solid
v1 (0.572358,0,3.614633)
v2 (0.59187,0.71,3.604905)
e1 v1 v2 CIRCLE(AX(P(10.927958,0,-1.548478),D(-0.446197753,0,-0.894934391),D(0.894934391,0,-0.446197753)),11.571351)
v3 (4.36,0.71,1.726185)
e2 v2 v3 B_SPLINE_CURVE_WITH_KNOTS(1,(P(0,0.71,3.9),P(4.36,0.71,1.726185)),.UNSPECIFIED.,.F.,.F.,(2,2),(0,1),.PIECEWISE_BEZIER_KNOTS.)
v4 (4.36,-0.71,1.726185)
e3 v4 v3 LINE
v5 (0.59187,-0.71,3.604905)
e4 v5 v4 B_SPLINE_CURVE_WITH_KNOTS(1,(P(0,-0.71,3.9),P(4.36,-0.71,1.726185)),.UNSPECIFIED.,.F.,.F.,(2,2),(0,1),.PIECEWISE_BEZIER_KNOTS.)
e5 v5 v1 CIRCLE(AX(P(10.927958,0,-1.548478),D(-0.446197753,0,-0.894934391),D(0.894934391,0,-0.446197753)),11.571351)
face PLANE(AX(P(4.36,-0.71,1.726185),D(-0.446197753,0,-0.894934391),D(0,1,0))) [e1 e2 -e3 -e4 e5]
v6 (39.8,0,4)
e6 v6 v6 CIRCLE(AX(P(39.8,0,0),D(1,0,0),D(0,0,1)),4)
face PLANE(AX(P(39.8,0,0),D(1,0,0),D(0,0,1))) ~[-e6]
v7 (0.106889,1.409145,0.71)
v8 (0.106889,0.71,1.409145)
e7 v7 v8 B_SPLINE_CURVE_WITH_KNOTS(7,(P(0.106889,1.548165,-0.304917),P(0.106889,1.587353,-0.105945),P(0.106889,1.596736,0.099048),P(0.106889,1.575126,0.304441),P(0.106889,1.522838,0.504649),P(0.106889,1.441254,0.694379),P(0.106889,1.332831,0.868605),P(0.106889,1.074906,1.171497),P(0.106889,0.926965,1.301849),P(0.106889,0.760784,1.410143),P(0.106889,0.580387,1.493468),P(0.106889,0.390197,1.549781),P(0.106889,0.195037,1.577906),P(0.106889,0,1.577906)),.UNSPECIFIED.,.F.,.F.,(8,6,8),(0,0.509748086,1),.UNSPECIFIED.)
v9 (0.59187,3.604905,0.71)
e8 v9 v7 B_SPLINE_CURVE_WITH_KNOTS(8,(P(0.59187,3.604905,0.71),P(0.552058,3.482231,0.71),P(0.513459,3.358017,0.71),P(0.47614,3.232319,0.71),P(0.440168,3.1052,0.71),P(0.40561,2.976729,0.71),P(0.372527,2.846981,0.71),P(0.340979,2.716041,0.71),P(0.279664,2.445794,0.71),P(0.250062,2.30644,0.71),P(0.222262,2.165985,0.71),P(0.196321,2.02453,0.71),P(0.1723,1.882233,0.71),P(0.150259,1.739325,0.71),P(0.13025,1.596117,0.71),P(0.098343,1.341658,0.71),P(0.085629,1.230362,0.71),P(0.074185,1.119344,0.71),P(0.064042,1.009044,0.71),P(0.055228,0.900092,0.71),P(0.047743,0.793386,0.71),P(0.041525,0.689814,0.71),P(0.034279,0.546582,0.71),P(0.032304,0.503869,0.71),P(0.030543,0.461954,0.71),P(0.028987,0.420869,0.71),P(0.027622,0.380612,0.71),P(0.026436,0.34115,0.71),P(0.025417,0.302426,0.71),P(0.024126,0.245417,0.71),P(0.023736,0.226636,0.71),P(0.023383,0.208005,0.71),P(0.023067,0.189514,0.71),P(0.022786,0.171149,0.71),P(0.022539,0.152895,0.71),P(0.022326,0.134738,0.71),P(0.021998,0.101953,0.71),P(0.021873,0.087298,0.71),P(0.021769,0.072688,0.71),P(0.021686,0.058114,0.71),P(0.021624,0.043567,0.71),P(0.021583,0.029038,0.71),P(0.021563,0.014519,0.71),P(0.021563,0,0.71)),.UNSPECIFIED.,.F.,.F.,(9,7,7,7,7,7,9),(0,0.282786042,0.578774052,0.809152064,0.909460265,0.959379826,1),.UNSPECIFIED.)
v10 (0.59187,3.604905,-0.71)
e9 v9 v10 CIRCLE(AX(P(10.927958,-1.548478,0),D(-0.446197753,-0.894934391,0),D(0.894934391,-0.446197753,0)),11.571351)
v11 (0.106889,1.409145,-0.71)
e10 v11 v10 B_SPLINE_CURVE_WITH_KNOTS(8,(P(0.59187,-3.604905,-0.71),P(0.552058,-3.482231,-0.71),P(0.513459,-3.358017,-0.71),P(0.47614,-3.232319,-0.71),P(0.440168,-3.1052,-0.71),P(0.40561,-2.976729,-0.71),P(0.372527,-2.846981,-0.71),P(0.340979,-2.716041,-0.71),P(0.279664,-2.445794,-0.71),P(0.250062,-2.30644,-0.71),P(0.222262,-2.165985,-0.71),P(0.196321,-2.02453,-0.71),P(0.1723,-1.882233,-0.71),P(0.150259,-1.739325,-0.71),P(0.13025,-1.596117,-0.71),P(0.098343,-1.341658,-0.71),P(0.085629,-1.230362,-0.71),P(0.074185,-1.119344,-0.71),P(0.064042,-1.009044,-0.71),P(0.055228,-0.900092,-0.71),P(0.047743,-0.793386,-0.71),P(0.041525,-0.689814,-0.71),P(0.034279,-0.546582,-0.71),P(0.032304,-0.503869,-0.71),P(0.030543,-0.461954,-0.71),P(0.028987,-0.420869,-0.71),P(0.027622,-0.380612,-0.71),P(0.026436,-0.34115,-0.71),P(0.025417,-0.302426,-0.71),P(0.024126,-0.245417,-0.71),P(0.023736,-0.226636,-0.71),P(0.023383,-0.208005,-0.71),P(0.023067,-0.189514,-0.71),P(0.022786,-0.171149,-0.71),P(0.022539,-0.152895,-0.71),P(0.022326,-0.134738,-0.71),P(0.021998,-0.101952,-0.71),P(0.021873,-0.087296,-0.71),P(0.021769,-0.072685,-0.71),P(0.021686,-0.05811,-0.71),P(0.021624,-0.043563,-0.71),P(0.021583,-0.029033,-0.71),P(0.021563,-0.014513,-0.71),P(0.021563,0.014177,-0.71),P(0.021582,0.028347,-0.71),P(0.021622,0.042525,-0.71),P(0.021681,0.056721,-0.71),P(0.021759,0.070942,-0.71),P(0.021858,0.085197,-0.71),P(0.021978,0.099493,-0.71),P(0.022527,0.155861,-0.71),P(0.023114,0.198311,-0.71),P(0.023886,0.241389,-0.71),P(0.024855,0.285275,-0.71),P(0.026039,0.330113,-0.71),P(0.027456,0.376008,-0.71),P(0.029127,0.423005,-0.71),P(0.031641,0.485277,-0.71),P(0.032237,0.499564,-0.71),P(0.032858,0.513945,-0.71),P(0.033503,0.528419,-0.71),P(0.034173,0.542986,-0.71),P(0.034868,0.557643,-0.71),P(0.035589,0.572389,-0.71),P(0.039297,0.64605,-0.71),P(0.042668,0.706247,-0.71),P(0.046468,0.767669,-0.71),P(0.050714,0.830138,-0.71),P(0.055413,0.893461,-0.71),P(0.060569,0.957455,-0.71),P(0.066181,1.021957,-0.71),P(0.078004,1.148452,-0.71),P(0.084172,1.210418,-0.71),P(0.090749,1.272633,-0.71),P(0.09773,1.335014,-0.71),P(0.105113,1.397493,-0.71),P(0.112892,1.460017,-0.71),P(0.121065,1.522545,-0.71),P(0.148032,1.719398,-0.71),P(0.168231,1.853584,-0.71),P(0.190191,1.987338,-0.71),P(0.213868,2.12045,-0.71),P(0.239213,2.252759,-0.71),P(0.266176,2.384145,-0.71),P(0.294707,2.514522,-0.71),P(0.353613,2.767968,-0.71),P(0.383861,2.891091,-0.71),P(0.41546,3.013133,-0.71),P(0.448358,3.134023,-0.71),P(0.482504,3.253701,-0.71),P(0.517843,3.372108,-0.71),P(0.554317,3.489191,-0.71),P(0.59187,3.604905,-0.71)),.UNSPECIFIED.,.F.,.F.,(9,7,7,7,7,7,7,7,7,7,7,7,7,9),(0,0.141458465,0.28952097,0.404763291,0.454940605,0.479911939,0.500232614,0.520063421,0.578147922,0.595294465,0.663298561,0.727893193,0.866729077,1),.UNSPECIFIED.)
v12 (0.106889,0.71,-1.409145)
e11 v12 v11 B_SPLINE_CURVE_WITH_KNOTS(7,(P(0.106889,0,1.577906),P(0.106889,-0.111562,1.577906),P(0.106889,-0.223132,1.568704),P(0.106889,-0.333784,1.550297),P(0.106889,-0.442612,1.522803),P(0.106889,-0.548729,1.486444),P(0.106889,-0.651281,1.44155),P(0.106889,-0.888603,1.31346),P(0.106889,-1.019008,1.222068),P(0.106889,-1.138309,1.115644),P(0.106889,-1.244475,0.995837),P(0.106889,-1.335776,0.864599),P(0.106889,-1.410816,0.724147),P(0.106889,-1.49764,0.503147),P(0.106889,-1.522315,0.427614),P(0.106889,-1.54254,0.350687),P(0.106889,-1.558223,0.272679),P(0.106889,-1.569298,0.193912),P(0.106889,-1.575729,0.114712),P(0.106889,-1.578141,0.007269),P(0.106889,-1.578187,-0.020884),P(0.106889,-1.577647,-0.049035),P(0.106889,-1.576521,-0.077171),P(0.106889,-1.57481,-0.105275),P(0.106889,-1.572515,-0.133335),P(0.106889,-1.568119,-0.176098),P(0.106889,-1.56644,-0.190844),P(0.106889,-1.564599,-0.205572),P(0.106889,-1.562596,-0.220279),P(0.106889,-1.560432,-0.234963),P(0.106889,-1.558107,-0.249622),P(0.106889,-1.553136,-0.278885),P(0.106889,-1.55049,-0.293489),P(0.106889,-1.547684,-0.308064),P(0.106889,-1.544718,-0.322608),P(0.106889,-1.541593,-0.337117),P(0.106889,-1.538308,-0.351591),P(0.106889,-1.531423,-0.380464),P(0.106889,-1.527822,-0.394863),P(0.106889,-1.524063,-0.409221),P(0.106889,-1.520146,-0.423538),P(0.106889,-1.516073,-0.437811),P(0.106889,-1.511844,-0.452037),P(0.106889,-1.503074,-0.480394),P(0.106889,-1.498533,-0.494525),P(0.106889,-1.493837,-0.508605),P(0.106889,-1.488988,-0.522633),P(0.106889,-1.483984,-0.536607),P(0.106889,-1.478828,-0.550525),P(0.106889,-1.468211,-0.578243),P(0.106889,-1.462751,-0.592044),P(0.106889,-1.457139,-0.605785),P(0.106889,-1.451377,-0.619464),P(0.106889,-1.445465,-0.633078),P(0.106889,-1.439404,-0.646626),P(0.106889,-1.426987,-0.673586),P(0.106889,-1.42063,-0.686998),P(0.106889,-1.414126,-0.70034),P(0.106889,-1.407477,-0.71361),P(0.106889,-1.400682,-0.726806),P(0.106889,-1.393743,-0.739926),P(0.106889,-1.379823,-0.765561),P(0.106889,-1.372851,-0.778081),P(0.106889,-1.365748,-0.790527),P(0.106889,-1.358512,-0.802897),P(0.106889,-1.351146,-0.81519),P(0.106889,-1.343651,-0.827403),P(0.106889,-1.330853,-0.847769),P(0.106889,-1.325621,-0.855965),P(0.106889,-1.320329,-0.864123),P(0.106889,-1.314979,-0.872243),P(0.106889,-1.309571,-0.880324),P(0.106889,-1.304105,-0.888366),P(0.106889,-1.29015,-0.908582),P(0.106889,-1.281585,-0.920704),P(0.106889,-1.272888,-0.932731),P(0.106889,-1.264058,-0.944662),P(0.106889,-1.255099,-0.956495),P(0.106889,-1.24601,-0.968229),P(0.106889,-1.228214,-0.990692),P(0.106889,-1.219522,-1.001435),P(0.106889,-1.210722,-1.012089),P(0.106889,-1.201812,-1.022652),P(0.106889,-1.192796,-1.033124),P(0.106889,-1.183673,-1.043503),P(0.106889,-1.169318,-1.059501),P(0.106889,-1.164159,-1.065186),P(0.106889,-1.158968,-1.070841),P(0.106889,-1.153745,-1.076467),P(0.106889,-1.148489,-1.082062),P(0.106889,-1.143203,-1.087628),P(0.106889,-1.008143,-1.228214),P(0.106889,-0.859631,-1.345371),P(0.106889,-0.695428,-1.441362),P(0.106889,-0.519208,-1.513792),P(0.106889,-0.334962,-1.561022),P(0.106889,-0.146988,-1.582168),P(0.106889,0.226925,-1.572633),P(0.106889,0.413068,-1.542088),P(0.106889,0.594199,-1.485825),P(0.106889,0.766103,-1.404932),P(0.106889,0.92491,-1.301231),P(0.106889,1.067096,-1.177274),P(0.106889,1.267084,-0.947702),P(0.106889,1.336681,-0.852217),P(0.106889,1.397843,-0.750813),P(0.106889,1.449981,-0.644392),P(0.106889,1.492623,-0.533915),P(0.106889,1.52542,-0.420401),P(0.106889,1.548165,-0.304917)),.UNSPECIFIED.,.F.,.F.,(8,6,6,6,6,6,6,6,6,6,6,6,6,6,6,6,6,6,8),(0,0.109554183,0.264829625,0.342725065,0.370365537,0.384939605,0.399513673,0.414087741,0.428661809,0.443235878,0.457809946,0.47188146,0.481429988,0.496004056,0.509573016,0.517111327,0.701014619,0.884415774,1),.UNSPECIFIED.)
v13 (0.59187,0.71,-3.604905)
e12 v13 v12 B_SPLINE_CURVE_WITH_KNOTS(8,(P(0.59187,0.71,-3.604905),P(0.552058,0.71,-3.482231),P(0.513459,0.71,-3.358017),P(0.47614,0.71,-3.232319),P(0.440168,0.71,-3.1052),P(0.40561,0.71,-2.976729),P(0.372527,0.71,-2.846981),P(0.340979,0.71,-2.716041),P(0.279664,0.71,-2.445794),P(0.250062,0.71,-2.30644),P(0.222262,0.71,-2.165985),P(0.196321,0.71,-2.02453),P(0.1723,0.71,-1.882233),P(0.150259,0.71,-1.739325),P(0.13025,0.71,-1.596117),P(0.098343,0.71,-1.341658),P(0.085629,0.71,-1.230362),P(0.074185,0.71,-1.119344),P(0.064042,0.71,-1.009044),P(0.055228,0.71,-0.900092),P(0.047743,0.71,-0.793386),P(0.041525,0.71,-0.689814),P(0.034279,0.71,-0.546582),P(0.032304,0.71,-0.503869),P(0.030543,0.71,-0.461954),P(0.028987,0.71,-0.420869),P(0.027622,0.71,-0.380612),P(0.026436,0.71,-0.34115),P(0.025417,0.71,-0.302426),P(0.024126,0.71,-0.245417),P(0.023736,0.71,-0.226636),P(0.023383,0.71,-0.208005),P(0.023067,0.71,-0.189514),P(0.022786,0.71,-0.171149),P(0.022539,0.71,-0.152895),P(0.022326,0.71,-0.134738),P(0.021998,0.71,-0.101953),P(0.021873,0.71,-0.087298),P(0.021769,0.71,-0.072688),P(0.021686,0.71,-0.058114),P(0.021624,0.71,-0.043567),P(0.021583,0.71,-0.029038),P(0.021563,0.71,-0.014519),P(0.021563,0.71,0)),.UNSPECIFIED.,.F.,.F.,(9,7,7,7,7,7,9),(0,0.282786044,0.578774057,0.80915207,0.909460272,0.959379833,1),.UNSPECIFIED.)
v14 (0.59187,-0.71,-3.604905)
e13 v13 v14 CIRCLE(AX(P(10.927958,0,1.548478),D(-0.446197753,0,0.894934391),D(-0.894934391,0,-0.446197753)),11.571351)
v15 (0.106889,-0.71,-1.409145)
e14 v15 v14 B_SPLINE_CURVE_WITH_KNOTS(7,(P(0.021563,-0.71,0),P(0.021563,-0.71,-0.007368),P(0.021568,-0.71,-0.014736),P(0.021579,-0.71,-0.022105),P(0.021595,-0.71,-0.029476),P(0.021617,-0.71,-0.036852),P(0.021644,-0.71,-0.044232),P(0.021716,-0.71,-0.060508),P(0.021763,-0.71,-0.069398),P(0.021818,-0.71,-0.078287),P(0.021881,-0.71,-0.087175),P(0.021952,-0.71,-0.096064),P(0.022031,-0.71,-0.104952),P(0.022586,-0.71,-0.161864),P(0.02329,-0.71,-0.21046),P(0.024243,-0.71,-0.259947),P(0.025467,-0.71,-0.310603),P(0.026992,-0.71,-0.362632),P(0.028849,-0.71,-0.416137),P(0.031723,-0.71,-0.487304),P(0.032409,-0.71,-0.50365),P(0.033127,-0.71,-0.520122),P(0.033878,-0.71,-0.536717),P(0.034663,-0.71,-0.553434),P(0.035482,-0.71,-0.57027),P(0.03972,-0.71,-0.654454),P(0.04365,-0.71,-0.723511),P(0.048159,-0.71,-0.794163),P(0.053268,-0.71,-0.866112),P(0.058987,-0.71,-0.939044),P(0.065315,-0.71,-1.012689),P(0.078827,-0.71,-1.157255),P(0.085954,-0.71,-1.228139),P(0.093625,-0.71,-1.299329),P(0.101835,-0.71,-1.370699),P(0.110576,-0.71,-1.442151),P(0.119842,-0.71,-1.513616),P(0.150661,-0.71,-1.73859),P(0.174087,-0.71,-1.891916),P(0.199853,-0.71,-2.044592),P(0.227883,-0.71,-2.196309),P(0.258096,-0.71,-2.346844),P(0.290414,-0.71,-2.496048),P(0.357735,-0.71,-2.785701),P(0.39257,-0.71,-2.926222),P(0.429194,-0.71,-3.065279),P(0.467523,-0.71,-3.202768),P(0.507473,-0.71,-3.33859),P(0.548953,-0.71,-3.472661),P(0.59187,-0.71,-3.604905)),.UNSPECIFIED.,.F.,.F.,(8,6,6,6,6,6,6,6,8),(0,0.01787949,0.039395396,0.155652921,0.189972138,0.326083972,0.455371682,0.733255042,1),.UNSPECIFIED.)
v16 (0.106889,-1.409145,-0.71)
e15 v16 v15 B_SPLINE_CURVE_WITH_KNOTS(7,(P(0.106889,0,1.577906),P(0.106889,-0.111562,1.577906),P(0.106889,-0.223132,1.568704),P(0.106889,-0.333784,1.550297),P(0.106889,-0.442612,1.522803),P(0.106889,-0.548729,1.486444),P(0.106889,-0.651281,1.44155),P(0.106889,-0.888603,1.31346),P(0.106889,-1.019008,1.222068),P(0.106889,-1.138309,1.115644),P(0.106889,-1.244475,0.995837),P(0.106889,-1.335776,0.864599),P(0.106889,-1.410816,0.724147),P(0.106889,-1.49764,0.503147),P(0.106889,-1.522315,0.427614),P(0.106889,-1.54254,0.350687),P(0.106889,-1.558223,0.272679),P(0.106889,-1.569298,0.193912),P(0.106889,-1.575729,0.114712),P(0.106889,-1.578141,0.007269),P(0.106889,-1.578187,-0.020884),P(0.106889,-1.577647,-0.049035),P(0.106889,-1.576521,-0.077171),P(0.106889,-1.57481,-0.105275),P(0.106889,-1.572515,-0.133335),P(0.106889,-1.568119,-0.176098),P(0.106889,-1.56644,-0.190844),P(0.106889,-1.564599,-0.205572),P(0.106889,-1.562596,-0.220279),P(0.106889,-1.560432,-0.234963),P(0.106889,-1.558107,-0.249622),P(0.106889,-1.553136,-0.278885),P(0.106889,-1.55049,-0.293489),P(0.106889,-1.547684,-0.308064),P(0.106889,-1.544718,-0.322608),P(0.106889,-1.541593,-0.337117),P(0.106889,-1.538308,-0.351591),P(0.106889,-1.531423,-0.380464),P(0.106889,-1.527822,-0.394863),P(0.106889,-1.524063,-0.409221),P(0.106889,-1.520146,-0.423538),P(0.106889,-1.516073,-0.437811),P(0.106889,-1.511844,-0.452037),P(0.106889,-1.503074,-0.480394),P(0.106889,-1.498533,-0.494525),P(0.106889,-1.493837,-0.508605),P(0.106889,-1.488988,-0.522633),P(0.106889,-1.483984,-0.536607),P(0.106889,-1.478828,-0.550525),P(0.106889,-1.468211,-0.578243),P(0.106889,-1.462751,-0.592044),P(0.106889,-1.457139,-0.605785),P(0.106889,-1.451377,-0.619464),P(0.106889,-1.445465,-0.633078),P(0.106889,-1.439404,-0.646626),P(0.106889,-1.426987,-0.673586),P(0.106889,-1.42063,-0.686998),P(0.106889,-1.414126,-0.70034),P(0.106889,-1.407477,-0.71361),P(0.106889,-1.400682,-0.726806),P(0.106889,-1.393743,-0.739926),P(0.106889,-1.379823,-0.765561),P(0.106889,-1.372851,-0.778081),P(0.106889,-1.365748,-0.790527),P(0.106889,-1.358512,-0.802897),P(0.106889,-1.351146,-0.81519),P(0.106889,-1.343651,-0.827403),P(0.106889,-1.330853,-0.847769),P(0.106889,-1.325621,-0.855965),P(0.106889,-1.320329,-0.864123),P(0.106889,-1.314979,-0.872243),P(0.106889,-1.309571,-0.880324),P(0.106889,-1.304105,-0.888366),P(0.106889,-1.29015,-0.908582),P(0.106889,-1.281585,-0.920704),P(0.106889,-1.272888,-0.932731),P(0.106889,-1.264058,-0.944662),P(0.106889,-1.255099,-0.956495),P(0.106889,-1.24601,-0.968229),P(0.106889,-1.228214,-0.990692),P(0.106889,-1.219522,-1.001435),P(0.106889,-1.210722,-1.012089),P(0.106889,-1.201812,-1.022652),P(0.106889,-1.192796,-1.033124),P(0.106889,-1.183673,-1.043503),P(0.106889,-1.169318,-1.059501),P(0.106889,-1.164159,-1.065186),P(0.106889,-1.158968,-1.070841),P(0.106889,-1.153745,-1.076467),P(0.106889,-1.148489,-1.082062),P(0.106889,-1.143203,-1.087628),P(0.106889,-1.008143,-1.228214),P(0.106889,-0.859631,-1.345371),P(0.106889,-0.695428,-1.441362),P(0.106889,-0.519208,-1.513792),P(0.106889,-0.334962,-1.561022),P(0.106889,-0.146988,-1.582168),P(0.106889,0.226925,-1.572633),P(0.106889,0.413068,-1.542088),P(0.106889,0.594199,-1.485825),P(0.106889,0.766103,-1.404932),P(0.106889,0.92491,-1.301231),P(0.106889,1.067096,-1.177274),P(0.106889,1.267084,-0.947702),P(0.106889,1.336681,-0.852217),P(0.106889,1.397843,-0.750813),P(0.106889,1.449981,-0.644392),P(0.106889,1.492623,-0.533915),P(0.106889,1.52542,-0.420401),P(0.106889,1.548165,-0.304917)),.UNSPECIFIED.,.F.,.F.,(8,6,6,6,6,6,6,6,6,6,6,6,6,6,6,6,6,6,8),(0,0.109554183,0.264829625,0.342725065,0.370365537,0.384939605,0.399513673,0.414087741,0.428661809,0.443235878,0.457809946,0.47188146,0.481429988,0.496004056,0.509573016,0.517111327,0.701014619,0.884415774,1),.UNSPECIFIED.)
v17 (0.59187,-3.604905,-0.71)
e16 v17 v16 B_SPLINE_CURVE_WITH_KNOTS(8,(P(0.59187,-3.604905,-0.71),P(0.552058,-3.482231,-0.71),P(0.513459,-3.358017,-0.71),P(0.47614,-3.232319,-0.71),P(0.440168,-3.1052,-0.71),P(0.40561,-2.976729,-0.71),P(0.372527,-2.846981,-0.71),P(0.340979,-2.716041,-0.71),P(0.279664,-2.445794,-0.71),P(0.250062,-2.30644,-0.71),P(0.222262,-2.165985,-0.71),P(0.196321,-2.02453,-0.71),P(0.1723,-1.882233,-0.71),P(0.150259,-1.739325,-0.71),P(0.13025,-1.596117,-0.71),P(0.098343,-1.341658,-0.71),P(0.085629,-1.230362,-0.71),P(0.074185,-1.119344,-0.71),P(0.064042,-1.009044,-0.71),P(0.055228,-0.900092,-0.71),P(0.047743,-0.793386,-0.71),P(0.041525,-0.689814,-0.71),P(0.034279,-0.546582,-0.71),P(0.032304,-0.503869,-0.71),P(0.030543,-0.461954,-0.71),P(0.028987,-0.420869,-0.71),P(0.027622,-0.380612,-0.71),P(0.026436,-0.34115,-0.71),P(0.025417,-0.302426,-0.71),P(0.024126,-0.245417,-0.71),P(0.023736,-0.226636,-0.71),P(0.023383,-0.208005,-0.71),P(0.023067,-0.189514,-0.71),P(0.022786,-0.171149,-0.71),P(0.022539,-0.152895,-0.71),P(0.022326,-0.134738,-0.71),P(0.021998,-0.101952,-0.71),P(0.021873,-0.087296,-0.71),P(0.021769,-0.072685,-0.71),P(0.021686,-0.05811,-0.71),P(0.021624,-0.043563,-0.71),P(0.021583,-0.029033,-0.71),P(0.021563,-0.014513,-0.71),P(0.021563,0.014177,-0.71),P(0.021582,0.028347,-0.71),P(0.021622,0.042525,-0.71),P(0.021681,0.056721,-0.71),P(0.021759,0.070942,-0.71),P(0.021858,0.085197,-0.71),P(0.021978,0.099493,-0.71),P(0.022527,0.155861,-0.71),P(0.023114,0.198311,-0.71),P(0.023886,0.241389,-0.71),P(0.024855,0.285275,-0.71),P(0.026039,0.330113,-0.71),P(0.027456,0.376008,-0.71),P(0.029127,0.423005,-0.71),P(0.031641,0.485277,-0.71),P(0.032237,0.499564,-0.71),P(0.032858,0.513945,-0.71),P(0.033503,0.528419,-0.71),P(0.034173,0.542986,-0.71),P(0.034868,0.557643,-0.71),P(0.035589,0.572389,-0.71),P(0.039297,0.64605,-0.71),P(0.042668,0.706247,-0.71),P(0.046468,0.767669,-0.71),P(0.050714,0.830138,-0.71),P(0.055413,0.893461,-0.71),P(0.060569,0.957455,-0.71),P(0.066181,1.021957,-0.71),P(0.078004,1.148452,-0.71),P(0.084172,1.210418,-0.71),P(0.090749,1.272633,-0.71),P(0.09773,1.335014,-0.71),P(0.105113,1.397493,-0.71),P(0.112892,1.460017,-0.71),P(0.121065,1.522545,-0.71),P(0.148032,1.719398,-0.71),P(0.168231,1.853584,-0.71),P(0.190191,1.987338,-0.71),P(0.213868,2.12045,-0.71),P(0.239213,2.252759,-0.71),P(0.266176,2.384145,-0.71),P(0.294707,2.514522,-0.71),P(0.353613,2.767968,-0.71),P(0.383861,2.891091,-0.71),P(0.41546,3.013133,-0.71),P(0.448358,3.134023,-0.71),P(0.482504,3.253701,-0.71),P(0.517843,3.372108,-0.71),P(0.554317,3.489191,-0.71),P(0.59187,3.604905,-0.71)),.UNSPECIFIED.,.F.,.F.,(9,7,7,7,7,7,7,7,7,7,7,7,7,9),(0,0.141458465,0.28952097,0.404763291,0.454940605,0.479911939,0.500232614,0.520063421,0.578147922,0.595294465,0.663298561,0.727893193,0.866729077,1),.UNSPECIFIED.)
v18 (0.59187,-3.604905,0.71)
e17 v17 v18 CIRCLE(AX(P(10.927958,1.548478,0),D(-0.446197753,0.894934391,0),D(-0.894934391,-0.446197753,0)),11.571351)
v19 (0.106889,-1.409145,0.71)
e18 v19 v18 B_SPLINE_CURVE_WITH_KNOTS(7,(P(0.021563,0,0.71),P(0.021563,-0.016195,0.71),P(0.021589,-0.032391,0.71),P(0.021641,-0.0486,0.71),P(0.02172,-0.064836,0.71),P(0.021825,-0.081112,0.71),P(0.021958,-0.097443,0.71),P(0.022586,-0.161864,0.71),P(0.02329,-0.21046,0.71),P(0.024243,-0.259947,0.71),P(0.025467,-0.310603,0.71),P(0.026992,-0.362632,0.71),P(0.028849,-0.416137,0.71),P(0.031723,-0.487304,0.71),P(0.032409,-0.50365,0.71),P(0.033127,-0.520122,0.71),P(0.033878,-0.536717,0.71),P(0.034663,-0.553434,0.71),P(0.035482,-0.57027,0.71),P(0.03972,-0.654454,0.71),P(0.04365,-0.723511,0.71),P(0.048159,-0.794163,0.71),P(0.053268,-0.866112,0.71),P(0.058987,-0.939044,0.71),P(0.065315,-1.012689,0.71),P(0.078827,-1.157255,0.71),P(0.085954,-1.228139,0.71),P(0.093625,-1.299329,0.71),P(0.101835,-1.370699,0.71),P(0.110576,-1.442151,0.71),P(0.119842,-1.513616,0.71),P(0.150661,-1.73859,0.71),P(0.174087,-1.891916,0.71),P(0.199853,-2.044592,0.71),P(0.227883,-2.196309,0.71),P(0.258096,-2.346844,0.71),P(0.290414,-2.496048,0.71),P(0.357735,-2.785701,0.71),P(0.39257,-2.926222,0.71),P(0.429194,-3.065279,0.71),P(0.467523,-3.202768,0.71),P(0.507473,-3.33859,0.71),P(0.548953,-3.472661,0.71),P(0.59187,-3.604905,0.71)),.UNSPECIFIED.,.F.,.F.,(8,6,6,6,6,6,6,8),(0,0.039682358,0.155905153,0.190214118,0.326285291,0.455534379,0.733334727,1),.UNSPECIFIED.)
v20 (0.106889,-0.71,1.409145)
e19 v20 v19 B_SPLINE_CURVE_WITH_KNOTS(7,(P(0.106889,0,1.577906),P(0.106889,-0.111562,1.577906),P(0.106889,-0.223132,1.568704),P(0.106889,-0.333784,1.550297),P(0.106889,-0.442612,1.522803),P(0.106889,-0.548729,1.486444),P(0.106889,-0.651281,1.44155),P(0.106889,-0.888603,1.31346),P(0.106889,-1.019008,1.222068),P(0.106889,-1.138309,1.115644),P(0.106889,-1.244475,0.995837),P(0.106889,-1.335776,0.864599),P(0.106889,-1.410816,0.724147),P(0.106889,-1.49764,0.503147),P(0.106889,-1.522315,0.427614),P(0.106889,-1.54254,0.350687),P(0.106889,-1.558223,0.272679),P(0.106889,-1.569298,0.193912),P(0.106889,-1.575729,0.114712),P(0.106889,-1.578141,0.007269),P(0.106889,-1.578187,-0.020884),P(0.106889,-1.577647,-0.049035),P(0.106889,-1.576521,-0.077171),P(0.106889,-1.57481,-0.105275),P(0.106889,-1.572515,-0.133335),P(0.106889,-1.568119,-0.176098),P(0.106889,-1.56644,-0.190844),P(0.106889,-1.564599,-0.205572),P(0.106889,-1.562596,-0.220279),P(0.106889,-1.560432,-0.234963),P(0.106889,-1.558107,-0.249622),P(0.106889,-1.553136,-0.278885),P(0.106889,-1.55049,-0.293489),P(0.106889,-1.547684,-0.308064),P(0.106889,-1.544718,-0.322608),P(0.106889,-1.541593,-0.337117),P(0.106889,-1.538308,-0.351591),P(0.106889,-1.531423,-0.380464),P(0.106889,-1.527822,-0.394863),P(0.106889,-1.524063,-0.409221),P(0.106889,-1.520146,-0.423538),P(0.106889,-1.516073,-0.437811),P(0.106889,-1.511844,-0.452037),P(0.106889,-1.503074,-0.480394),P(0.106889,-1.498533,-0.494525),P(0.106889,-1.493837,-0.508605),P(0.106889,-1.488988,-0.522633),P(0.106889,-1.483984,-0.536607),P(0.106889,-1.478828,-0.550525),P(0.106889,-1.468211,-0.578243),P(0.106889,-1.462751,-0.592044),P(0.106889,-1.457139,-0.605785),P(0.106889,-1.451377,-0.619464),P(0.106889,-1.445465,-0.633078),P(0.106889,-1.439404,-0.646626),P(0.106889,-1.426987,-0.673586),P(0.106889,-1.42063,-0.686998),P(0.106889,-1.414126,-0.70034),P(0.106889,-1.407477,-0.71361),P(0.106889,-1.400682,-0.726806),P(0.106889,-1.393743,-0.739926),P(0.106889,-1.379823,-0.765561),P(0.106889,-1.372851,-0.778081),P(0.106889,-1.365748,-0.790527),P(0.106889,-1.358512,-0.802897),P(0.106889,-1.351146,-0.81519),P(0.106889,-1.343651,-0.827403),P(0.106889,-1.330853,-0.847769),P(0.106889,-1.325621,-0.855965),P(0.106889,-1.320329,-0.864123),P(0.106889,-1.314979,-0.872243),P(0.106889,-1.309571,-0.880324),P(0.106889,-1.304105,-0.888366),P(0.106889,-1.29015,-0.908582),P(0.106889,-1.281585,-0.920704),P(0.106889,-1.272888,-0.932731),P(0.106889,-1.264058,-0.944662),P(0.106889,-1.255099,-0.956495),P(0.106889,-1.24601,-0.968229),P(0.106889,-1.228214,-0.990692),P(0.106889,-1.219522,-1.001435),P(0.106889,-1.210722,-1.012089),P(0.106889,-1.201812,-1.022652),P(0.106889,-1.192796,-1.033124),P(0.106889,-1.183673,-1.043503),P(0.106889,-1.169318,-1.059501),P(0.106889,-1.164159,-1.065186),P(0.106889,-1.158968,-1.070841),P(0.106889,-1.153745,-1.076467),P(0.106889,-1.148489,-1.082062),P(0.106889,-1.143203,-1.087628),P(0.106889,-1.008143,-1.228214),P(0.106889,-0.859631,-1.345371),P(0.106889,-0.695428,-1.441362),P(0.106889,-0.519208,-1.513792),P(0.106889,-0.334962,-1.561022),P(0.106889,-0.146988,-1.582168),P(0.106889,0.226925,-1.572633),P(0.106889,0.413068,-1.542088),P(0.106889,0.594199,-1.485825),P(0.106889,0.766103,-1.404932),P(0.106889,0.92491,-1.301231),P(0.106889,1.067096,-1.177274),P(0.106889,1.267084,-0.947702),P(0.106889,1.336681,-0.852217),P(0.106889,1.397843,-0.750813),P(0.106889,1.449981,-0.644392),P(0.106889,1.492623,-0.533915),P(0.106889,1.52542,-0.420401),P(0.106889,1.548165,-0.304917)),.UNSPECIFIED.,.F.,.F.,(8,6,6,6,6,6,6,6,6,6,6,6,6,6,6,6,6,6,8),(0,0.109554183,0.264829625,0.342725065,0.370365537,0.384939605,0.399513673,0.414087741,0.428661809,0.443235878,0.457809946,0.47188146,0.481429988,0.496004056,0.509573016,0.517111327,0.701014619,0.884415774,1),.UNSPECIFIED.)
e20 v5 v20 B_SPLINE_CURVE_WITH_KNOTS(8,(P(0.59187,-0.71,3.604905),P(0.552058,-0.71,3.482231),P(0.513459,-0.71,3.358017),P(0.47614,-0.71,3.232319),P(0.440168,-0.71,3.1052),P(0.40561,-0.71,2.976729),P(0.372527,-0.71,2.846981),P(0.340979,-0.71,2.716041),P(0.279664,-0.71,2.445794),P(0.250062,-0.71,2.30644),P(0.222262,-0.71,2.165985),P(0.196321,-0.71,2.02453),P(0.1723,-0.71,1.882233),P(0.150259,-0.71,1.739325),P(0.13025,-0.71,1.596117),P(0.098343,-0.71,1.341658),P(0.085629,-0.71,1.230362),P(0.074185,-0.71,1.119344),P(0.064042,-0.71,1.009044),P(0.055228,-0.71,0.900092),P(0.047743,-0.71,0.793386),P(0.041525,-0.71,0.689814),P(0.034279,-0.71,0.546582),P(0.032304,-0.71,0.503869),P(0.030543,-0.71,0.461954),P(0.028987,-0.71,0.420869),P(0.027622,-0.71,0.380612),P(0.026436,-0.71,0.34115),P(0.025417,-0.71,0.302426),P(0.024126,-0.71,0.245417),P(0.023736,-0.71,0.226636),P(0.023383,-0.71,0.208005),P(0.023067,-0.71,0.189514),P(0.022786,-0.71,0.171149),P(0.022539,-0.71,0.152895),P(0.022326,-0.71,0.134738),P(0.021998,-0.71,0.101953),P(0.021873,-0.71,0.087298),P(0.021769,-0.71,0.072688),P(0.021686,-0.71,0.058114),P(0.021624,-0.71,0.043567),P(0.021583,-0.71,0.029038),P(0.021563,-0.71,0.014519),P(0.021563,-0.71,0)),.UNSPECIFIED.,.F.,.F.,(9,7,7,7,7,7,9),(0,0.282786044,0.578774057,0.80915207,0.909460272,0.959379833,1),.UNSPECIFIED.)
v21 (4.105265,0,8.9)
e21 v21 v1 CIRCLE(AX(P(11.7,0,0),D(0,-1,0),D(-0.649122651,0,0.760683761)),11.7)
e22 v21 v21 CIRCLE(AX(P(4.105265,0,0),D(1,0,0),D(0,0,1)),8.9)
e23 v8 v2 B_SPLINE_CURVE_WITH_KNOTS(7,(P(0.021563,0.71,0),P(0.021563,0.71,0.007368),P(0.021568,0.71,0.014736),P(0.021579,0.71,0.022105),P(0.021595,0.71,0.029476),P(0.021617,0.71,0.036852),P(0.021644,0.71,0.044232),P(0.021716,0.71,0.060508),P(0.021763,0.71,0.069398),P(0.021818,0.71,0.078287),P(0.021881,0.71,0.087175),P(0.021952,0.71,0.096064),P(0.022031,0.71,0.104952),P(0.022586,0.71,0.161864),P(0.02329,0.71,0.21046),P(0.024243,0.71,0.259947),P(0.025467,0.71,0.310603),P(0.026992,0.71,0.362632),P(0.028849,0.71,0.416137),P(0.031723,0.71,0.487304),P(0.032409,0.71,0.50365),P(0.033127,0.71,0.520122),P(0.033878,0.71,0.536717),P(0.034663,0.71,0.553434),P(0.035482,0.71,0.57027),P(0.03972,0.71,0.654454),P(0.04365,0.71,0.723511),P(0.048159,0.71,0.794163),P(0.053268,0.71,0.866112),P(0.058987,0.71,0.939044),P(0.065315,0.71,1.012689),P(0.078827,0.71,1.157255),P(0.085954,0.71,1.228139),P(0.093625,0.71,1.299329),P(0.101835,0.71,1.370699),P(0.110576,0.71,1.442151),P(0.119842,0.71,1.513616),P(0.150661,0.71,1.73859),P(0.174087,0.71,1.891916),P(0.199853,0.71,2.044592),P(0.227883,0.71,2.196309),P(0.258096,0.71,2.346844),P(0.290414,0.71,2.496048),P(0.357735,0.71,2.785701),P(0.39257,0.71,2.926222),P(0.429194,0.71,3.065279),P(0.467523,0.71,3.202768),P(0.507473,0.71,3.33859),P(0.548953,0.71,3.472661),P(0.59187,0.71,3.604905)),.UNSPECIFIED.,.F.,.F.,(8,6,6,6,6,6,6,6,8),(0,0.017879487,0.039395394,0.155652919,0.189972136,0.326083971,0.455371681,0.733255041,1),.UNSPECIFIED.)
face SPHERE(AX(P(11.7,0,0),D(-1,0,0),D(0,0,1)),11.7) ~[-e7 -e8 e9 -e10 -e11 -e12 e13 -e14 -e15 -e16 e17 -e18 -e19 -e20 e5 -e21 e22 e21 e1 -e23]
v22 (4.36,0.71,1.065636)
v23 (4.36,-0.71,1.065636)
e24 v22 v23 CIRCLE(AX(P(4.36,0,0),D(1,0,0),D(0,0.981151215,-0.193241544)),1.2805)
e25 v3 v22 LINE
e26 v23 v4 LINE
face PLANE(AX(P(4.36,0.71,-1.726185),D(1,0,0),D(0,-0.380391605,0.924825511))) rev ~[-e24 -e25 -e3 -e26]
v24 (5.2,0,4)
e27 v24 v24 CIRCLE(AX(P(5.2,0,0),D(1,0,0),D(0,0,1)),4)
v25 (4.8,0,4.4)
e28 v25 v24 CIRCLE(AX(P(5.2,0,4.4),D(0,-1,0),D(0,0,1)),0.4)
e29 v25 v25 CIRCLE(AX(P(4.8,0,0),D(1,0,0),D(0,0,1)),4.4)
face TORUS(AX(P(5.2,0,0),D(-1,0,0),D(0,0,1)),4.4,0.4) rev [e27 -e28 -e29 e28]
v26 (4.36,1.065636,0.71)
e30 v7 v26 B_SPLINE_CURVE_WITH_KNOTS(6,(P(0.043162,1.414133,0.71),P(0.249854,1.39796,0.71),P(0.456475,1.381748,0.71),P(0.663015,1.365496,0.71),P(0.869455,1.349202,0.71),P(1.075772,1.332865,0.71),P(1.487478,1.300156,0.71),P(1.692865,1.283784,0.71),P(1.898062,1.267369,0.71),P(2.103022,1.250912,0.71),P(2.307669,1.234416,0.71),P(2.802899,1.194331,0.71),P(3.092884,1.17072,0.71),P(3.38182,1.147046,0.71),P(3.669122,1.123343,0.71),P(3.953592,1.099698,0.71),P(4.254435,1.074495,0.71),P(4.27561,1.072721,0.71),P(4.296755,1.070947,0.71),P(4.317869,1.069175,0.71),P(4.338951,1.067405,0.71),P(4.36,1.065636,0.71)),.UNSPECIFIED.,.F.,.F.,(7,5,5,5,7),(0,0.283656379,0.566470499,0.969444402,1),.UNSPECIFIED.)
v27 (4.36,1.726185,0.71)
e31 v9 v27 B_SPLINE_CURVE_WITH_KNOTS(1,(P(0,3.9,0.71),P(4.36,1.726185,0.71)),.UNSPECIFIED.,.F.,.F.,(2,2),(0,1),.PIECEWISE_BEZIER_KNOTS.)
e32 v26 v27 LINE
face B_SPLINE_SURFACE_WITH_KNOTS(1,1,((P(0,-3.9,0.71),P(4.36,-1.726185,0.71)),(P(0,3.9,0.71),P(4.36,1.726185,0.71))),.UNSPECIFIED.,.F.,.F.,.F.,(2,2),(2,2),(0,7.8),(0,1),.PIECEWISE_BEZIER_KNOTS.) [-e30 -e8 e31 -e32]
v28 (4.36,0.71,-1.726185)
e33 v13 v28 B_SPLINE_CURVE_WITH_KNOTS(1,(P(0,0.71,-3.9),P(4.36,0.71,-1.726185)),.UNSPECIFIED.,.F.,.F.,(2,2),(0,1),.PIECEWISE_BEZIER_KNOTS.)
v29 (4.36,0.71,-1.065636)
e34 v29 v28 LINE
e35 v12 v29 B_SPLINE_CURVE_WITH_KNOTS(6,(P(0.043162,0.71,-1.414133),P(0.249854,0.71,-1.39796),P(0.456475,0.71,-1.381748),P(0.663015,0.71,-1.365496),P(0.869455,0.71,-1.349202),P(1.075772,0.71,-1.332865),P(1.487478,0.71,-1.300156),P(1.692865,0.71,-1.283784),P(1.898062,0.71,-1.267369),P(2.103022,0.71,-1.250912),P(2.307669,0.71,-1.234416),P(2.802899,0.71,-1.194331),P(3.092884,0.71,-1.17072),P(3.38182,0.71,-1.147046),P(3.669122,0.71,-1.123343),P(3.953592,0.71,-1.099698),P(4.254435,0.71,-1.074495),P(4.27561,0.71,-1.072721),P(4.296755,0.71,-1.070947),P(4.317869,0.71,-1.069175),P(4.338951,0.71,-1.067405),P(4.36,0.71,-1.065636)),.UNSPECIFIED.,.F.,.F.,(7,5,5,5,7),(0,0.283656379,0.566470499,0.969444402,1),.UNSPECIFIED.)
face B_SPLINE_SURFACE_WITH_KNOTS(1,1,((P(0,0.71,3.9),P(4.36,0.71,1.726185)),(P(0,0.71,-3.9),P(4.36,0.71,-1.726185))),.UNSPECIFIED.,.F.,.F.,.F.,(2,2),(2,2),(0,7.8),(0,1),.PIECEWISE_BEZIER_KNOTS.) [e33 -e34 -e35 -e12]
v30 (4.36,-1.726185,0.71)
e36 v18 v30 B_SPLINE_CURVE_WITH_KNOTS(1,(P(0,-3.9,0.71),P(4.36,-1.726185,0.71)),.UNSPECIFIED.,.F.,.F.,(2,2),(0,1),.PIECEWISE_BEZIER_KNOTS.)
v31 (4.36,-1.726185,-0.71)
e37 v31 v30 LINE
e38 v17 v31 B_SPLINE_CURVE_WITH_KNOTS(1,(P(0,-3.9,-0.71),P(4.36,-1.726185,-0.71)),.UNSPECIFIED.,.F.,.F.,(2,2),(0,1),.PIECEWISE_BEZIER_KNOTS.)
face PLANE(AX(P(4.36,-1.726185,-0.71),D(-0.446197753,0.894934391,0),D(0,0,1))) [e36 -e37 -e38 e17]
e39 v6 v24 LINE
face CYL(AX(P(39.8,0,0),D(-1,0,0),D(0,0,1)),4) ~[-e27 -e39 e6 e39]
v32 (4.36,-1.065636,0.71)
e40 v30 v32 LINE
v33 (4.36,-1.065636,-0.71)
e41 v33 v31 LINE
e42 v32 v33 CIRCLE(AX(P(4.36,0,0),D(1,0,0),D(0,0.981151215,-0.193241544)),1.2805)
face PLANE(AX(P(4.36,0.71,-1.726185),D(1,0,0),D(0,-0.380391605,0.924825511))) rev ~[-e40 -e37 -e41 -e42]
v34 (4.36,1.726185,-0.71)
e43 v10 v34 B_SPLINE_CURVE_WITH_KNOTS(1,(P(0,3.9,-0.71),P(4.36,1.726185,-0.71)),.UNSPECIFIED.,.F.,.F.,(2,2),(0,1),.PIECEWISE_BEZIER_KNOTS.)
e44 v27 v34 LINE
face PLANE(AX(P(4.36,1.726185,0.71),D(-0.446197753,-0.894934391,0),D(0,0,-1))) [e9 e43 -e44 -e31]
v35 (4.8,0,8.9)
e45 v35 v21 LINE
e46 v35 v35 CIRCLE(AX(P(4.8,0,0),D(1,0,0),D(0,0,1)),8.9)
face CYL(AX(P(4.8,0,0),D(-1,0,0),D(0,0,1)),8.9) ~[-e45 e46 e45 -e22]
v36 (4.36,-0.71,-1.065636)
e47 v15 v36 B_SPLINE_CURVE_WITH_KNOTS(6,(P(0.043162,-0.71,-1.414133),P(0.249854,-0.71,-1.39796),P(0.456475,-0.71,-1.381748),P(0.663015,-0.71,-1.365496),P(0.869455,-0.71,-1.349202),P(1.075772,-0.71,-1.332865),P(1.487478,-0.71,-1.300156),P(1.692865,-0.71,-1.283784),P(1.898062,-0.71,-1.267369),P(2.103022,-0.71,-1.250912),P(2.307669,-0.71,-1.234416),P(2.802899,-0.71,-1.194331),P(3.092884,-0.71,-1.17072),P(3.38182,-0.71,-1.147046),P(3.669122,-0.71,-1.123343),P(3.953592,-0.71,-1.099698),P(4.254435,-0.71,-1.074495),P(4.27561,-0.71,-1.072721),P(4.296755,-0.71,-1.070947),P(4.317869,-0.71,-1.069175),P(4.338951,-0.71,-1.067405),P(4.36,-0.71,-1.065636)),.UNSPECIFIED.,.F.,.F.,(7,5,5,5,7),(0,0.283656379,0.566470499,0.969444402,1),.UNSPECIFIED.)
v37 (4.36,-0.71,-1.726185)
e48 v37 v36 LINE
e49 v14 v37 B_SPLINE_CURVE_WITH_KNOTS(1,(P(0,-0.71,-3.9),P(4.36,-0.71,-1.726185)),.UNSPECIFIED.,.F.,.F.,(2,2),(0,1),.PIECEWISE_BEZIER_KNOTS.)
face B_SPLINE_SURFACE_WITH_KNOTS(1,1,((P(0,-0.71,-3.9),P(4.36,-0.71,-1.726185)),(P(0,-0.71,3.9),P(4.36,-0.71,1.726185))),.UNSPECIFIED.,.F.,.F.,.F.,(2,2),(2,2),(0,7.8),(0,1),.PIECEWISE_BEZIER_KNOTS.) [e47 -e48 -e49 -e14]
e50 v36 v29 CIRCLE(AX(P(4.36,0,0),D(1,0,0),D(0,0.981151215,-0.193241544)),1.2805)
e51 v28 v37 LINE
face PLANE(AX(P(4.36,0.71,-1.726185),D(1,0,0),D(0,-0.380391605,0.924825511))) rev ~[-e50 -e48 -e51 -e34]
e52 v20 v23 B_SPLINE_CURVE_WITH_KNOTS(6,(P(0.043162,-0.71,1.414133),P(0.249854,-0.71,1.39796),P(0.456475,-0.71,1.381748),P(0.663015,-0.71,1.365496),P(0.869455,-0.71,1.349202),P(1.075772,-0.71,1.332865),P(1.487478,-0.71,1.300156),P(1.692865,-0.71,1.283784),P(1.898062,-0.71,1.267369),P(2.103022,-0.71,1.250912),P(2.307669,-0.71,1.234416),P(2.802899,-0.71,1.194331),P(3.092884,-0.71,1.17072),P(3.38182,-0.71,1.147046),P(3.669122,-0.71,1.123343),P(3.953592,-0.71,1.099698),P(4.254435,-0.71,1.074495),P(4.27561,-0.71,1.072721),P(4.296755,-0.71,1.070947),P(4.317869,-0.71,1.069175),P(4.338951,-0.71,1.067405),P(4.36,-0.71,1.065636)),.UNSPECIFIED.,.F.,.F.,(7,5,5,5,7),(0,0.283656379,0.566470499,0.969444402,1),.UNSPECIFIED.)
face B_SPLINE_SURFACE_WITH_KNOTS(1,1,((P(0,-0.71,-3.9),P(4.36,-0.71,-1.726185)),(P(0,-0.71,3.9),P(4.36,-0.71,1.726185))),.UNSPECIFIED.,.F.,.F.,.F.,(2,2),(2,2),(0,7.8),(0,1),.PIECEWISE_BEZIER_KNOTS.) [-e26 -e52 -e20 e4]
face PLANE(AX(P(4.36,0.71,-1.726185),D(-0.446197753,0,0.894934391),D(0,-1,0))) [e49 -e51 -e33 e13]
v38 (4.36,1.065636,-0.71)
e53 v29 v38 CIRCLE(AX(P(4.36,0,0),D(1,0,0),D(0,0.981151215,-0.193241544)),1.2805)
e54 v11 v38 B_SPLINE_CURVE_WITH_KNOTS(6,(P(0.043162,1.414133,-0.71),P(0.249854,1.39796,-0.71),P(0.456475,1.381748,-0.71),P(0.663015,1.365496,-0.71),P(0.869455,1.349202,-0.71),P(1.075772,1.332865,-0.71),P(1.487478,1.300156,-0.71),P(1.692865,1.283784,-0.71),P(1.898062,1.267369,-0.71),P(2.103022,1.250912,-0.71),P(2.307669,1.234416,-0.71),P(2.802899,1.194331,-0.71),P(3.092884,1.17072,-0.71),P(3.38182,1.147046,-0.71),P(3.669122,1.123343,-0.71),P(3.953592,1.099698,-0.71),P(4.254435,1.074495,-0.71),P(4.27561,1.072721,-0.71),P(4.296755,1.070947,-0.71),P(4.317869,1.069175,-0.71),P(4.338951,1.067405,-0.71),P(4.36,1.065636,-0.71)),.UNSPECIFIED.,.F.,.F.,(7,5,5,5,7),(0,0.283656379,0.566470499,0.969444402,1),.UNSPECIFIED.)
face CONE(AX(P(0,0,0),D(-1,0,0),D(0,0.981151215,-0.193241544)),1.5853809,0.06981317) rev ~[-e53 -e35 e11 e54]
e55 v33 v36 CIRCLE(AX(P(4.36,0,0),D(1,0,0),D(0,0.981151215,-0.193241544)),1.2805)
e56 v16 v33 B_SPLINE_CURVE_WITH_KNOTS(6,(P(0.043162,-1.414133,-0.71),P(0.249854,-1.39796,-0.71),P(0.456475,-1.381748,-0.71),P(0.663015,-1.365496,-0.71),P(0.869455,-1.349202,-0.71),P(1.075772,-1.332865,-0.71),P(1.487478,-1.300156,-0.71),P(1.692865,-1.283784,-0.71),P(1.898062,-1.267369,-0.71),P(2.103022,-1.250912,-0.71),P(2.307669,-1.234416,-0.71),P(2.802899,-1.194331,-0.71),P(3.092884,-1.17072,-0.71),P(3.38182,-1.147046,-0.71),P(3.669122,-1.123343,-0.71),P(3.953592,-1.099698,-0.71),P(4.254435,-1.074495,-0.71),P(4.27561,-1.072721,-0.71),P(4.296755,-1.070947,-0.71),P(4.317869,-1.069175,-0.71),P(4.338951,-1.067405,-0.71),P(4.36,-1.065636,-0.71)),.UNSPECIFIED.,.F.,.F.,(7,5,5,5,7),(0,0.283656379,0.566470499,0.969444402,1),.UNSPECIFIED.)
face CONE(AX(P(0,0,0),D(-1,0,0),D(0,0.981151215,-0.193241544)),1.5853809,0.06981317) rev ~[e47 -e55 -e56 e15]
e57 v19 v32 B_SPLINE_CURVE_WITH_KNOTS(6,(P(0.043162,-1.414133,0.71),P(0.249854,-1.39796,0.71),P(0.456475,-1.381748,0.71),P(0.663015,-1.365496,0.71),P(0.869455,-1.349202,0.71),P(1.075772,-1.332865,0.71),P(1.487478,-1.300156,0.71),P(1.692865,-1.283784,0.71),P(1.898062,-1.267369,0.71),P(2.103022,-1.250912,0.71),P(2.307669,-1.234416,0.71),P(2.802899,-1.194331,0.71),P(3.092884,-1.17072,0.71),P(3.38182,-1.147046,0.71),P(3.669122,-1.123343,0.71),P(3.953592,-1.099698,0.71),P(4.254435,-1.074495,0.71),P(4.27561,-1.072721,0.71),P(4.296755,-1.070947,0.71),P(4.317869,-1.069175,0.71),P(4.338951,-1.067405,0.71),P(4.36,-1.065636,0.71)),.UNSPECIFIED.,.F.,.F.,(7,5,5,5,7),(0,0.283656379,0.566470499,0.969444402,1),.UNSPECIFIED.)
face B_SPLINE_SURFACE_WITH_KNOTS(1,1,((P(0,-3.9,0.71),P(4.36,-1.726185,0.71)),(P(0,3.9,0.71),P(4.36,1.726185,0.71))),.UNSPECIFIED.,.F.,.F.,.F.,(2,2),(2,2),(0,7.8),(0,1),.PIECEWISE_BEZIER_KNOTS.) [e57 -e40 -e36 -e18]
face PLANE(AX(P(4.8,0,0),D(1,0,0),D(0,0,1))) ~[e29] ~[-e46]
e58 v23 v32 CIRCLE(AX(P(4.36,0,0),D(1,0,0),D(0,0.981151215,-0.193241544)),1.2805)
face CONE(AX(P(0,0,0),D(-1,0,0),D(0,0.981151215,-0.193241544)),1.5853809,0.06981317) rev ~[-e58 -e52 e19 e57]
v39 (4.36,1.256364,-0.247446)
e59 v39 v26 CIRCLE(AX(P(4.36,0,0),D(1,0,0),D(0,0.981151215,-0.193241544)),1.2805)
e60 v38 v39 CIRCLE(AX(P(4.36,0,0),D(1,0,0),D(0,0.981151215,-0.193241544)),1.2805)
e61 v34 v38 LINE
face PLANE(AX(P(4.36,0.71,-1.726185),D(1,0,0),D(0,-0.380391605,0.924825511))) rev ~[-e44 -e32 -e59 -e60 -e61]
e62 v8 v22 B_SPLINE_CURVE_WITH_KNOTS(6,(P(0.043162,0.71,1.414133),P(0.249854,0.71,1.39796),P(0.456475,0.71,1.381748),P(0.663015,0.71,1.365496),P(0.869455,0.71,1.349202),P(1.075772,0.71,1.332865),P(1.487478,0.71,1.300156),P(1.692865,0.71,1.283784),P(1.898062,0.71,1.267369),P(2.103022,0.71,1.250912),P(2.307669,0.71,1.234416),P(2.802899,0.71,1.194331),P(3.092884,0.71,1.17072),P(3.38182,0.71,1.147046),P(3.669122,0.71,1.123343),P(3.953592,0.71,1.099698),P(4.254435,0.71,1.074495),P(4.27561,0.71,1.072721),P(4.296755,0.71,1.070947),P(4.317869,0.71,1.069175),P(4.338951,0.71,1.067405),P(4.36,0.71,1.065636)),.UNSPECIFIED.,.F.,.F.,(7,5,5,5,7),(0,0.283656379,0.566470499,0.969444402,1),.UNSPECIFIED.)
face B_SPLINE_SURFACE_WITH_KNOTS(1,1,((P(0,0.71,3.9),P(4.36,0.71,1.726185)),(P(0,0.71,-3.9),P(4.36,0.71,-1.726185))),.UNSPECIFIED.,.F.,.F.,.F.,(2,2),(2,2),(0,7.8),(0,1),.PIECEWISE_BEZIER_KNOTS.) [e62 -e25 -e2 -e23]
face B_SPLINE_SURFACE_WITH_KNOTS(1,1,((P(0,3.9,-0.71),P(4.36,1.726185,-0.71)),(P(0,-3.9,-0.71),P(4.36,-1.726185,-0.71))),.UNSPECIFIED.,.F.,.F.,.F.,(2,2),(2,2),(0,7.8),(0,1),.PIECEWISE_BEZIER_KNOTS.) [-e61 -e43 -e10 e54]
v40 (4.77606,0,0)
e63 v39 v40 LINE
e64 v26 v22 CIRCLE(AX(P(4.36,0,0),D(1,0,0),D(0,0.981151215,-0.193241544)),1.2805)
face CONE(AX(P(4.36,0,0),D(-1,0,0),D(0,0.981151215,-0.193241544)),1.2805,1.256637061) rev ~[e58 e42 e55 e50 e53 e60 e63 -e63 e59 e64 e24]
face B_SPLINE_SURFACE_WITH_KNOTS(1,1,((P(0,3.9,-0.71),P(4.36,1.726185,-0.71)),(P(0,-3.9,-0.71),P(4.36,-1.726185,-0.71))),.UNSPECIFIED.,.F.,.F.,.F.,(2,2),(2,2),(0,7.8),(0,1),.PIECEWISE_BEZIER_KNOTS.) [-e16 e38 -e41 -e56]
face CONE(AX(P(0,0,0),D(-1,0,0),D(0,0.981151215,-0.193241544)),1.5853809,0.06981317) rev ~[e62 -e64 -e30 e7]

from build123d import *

# Parameters (mm, degrees)
FILLET1_R    = 0.4
RECPAT_COUNT = 2
RECPAT_ANGLE = 90


with BuildPart() as part:
    # BodySke → Base-Revolve (revolve)
    with BuildSketch(Plane.XY, mode=Mode.PRIVATE) as base_revolve_sk:
        with BuildLine():
            Line((4.8, 4), (4.8, 8.9))
            Line((4.8, 8.9), (4.105264982, 8.9))
            ThreePointArc((4.105264982, 8.9), (1.075772976, 4.900591816), (0, 0))
            Line((0, 0), (39.8, 0))
            Line((39.8, 0), (39.8, 4))
            Line((39.8, 4), (4.8, 4))
        make_face()
    revolve(base_revolve_sk.sketch.rotate(Axis((-25.4, 0, 0), (1, 0, 0)), 90), axis=Axis((-25.4, 0, 0), (1, 0, 0)))

    # Fillet1
    fillet1_edges = [part.edges().sort_by_distance(p)[0] for p in [
        (4.8, 0, -4),
    ]]
    fillet(fillet1_edges, radius=FILLET1_R)

    # Sketch3 → Recess section 0
    with BuildSketch(Plane(origin=(0, 0, 0), x_dir=(0, 0, -1), z_dir=(1, 0, 0))):
        with BuildLine():
            Line((0.71, -3.9), (-0.71, -3.9))
            Line((-0.71, -3.9), (-0.71, 3.9))
            Line((-0.71, 3.9), (0.71, 3.9))
            Line((0.71, 3.9), (0.71, -3.9))
        make_face()
    # Sketch4 → Recess section 1
    with BuildSketch(Plane(origin=(4.36, 0, 0), x_dir=(0, 0, -1), z_dir=(1, 0, 0))):
        with BuildLine():
            Line((0.71, -1.726184552), (-0.71, -1.726184552))
            Line((-0.71, -1.726184552), (-0.71, 1.726184552))
            Line((-0.71, 1.726184552), (0.71, 1.726184552))
            Line((0.71, 1.726184552), (0.71, -1.726184552))
        make_face()
    recess = loft(mode=Mode.SUBTRACT)

    # RecPat: Recess ×2 about axis
    recpat_axis = Axis((0, 0, 0), (1, 0, 0))
    for i in range(1, RECPAT_COUNT):
        add(recess.rotate(recpat_axis, i * RECPAT_ANGLE / (RECPAT_COUNT - 1)), mode=Mode.SUBTRACT)

    # RecCorSke → RecessCore (revolve, cut)
    with BuildSketch(Plane.XY, mode=Mode.PRIVATE) as recesscore_sk:
        Polygon((0, 0), (0, 1.5853809), (4.36, 1.2805), (4.776059671, 0), align=None)
    revolve(recesscore_sk.sketch.rotate(Axis((-3.175, 0, 0), (1, 0, 0)), 348.85798225), axis=Axis((-3.175, 0, 0), (1, 0, 0)), mode=Mode.SUBTRACT)


solid = part.part
